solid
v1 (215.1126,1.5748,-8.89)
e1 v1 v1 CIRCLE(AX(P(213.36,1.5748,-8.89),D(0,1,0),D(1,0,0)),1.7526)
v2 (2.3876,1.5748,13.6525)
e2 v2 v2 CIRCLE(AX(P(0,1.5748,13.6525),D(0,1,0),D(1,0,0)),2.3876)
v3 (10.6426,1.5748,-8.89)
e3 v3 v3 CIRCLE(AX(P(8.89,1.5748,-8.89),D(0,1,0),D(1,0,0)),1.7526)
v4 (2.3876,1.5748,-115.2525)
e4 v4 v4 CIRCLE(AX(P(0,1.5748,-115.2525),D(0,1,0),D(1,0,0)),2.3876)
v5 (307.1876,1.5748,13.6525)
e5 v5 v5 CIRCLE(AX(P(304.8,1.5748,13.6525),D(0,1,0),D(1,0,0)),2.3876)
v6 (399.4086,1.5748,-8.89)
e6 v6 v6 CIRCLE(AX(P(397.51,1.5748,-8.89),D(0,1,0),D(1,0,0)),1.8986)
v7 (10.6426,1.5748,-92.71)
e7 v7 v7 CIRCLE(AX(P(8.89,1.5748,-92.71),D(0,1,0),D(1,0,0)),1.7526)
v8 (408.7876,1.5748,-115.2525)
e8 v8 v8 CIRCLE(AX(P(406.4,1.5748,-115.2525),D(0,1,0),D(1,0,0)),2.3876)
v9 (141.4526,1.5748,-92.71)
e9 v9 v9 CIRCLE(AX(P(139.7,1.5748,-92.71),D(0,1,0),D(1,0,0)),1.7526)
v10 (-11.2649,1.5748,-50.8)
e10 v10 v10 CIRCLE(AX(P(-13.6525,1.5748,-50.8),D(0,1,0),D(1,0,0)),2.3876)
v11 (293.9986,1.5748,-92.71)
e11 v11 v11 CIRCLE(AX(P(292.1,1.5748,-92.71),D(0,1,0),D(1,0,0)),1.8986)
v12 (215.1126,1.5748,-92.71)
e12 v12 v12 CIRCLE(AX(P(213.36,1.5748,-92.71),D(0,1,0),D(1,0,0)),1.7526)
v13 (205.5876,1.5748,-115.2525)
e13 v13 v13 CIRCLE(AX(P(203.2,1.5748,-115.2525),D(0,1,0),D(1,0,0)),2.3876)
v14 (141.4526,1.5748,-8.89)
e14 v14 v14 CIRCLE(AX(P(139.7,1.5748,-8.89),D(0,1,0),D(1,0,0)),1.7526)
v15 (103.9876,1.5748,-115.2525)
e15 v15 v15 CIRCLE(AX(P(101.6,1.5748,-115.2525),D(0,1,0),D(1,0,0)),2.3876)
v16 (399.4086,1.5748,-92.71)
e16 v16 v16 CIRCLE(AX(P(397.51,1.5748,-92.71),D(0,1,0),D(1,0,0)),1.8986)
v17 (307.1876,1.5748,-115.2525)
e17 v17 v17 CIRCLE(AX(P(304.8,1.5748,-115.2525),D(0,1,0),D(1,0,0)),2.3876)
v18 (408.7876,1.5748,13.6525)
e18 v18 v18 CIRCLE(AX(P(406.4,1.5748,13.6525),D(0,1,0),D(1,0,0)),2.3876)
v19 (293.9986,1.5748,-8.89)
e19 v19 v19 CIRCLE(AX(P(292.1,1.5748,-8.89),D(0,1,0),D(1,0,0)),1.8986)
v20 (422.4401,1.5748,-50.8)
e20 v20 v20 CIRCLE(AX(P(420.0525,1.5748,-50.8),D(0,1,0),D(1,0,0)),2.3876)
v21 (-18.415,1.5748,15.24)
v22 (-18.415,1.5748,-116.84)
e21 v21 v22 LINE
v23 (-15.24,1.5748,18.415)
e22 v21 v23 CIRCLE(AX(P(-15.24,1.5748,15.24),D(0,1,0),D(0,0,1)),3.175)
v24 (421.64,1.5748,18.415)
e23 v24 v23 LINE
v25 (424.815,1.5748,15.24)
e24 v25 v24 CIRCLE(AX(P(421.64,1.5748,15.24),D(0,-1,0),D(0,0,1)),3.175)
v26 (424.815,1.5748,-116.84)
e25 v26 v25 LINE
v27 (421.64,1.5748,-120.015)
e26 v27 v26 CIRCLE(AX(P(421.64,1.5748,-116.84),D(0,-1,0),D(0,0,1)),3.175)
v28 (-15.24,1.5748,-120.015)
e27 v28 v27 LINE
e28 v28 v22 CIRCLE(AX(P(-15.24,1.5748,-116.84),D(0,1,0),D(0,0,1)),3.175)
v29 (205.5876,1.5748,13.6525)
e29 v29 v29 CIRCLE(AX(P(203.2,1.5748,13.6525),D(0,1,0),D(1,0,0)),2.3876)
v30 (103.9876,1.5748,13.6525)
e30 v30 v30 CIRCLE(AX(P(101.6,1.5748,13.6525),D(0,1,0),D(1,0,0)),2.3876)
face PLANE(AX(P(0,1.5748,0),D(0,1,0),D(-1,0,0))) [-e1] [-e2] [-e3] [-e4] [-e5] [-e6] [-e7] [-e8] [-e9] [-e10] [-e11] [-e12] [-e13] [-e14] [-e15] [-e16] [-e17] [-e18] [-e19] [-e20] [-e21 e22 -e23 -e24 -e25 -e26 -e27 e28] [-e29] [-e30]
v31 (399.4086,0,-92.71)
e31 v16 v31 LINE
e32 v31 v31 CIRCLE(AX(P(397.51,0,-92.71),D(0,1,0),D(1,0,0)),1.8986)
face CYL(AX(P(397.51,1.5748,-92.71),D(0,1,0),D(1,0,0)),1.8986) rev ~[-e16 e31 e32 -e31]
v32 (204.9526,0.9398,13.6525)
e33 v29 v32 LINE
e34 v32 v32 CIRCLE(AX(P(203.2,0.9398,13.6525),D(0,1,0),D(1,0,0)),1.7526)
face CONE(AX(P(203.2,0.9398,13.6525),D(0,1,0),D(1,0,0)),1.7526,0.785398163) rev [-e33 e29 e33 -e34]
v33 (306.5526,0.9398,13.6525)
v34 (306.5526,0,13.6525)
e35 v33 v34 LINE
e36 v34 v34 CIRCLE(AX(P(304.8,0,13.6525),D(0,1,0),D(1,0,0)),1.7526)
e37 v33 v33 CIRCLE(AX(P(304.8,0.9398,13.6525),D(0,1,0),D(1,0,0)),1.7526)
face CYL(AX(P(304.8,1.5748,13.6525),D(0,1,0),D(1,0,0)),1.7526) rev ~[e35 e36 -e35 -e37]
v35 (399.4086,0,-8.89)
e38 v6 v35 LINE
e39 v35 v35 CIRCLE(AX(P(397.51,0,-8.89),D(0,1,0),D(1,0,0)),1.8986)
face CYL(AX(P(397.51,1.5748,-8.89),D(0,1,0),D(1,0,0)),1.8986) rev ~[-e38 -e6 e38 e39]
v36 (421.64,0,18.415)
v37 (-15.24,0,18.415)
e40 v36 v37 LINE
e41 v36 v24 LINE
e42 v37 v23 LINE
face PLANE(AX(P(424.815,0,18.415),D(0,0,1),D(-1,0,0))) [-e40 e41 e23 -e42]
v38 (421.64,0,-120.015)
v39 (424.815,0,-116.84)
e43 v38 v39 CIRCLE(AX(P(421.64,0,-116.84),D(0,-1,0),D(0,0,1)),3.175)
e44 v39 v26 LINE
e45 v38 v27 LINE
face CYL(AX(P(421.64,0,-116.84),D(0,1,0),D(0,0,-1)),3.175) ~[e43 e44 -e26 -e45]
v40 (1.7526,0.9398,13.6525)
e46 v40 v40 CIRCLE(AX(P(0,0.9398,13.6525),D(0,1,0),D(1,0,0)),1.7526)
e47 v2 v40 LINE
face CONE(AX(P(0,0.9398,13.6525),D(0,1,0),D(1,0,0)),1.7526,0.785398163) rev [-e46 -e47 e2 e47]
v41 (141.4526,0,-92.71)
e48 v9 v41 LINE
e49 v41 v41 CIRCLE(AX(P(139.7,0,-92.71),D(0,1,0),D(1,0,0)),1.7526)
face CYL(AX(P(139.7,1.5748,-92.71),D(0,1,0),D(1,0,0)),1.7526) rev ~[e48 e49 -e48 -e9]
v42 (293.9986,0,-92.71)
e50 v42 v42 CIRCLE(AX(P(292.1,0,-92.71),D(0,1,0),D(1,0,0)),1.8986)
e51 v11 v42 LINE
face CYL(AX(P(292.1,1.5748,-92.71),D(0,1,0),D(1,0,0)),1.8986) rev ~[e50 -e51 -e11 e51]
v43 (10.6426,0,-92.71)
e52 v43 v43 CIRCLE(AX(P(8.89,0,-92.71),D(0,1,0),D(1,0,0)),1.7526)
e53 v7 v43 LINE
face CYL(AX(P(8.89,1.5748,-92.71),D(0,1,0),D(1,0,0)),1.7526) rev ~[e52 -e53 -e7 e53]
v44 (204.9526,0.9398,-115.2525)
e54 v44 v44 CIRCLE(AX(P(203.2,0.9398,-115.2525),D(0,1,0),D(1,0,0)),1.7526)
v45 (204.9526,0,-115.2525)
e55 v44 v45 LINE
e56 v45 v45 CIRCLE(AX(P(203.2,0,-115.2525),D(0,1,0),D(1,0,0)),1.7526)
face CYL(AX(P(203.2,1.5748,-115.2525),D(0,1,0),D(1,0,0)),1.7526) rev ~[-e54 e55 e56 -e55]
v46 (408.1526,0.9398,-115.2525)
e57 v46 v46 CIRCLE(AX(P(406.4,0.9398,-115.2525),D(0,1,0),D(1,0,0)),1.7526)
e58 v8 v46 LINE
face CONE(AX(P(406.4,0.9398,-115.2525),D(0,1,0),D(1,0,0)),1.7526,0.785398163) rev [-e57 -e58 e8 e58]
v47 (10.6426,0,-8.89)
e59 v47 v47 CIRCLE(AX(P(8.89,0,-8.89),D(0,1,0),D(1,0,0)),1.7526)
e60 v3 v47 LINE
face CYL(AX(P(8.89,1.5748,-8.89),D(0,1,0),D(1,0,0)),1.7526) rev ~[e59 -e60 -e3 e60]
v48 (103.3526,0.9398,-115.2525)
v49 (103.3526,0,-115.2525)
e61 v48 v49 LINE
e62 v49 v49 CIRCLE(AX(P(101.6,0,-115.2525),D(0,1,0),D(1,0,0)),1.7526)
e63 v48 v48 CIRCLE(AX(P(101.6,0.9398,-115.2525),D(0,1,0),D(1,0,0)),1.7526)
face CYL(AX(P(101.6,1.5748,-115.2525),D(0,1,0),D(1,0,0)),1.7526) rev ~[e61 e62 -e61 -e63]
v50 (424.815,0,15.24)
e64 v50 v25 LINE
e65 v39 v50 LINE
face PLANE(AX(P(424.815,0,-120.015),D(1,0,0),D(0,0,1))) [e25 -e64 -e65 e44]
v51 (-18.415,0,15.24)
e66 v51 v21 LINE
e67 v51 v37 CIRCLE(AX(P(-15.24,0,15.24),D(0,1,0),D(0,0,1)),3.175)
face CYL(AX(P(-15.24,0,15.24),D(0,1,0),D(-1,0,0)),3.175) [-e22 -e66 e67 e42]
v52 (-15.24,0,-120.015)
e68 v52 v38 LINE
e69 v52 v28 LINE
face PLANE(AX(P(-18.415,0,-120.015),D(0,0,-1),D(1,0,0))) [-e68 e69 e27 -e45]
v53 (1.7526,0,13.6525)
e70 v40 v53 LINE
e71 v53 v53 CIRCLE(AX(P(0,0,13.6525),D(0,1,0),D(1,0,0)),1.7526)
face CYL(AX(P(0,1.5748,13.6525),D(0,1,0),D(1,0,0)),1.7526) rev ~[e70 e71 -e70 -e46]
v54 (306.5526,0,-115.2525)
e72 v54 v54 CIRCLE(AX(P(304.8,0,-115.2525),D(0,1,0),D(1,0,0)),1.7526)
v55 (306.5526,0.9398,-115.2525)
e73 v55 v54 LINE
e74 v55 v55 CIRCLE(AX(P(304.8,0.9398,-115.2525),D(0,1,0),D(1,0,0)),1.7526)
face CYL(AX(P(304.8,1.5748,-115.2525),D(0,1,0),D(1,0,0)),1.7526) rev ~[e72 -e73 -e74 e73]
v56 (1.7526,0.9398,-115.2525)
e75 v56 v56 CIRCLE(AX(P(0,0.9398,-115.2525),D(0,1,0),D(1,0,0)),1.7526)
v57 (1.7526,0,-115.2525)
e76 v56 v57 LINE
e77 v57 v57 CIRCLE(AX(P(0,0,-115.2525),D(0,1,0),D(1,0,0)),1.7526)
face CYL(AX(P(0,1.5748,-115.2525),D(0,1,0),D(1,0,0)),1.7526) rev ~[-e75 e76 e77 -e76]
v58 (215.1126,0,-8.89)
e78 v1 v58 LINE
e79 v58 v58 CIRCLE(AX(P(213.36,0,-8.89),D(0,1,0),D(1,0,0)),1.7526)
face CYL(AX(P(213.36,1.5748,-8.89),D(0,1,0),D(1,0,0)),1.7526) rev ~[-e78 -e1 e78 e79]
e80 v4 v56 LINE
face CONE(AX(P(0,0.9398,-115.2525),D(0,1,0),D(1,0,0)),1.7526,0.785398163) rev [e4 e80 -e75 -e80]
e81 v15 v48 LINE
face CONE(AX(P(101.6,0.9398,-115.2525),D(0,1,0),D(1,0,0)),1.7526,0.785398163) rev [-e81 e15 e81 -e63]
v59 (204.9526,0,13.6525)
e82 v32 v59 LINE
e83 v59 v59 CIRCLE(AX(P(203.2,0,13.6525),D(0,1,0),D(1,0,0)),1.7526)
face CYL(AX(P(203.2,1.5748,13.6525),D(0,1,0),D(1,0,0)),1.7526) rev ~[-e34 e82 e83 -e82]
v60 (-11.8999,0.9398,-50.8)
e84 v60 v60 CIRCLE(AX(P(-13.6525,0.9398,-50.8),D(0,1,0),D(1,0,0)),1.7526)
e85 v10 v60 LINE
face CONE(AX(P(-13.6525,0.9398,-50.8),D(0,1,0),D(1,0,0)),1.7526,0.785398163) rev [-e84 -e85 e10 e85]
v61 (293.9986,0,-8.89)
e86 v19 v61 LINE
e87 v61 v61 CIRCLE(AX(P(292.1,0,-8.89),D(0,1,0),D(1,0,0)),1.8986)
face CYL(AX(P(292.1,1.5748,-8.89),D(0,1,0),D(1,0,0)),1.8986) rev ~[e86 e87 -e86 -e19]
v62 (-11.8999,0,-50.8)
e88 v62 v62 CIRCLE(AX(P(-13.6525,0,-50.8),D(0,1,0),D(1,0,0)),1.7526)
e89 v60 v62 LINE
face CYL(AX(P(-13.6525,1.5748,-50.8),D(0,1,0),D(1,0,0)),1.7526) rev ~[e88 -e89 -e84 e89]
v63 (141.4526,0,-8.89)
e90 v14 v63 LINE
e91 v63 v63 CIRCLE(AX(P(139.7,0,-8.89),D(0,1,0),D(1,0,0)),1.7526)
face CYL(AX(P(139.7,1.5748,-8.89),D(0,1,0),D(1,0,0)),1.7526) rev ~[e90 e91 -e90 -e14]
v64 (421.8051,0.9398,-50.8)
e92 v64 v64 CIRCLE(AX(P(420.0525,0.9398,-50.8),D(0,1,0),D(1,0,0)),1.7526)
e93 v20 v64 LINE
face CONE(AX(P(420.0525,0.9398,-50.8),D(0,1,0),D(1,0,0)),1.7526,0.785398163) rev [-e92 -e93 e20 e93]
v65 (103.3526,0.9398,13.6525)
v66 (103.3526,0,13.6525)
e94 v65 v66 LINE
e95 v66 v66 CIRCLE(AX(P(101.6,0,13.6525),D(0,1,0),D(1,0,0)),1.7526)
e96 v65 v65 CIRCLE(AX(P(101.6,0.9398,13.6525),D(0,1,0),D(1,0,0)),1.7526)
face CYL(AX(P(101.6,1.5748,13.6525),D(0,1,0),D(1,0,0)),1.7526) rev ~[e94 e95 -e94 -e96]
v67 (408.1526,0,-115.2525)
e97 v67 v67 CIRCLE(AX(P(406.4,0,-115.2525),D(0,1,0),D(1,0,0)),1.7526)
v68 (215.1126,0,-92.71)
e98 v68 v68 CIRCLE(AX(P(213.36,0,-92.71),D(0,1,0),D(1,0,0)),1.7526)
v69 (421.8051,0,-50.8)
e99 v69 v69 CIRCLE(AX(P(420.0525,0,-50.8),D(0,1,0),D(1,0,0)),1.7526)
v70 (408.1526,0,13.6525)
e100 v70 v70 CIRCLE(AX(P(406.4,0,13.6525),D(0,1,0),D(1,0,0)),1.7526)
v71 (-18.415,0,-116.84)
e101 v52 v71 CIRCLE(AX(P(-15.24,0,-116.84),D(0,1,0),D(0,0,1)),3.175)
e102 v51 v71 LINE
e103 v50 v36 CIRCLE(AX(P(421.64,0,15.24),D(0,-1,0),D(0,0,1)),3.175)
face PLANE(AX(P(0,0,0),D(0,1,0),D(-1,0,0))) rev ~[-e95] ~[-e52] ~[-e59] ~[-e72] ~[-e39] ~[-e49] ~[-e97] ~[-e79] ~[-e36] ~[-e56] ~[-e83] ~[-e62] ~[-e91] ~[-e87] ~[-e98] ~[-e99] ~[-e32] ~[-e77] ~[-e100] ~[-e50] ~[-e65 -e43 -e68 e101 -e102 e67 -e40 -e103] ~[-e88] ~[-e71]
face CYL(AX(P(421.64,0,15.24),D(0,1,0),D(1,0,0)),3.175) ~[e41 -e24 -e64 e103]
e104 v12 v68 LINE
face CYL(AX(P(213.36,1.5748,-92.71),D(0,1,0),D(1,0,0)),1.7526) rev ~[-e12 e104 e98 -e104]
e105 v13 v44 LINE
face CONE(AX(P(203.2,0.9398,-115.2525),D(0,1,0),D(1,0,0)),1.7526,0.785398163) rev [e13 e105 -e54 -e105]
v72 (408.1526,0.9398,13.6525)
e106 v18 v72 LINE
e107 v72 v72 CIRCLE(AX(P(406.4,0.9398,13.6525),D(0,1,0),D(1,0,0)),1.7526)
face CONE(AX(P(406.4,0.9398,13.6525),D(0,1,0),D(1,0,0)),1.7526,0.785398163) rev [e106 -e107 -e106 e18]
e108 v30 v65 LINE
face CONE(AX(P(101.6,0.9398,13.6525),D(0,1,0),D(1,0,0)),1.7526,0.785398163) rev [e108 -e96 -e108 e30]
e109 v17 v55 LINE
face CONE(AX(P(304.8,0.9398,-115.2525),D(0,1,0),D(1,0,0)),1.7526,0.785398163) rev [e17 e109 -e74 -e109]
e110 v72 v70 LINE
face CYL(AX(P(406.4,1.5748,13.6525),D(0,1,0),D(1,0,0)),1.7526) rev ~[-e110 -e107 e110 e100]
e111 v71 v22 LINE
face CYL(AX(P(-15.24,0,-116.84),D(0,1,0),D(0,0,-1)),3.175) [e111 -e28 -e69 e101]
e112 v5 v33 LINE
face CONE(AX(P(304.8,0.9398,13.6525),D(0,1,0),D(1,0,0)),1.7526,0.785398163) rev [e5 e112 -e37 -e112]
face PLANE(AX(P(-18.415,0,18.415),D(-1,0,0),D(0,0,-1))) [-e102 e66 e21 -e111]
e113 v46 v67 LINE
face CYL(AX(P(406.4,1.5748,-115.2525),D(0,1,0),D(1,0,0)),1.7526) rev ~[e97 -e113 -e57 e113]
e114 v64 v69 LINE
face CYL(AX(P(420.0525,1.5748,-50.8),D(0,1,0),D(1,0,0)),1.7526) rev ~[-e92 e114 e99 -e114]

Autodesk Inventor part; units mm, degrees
ref_plane "YZ Plane" through (0, 0, 0) normal (1, 0, 0) x (0, 1, 0)
ref_plane "XZ Plane" through (0, 0, 0) normal (0, 1, 0) x (-1, 0, 0)
ref_plane "XY Plane" through (0, 0, 0) normal (0, 0, 1) x (1, 0, 0)
sketch "Sketch4" plane through (0, 0, 0) normal (0, 1, 0) x (-1, 0, 0)
  line L0 (0, -101.6) -> (0, 0)
  line L1 (0, 0) -> (-406.4, 0)
  line L2 (-406.4, 0) -> (-406.4, -101.6)
  line L3 (-406.4, -101.6) -> (0, -101.6)
  circle A0 centre (-397.51, -92.71) radius 1.8986
  circle A1 centre (-292.1, -92.71) radius 1.8986
  circle A2 centre (-213.36, -92.71) radius 1.8986
  circle A3 centre (-139.7, -92.71) radius 1.8986
  circle A4 centre (-8.89, -8.89) radius 1.8986
  circle A5 centre (-381, -92.78) radius 1
  circle A6 centre (-381, -73.73) radius 1
  circle A7 centre (-381, -54.68) radius 1
  circle A8 centre (-381, -35.63) radius 1
  circle A9 centre (-381, -16.58) radius 1
  circle A10 centre (-355.6, -6.28) radius 1
  circle A11 centre (-355.6, -25.33) radius 1
  circle A12 centre (-355.6, -44.38) radius 1
  circle A13 centre (-355.6, -63.43) radius 1
  circle A14 centre (-355.6, -82.48) radius 1
  circle A15 centre (-330.2, -92.78) radius 1
  circle A16 centre (-330.2, -73.73) radius 1
  circle A17 centre (-330.2, -54.68) radius 1
  circle A18 centre (-330.2, -35.63) radius 1
  circle A19 centre (-330.2, -16.58) radius 1
  circle A20 centre (-279.4, -92.78) radius 1
  circle A21 centre (-279.4, -73.73) radius 1
  circle A22 centre (-279.4, -54.68) radius 1
  circle A23 centre (-279.4, -35.63) radius 1
  circle A24 centre (-279.4, -6.28) radius 1
  circle A25 centre (-177.8, -82.48) radius 1
  circle A26 centre (-177.8, -63.43) radius 1
  circle A27 centre (-177.8, -44.38) radius 1
  circle A28 centre (-177.8, -25.33) radius 1
  circle A29 centre (-177.8, -6.28) radius 1
  circle A30 centre (-152.4, -16.58) radius 1
  circle A31 centre (-152.4, -35.63) radius 1
  circle A32 centre (-152.4, -54.68) radius 1
  circle A33 centre (-152.4, -73.73) radius 1
  circle A34 centre (-152.4, -92.78) radius 1
  circle A35 centre (-127, -82.48) radius 1
  circle A36 centre (-127, -63.43) radius 1
  circle A37 centre (-127, -35.63) radius 1
  circle A38 centre (-127, -16.58) radius 1
  circle A39 centre (-76.2, -6.28) radius 1
  circle A40 centre (-76.2, -25.33) radius 1
  circle A41 centre (-76.2, -44.38) radius 1
  circle A42 centre (-76.2, -63.43) radius 1
  circle A43 centre (-76.2, -82.48) radius 1
  circle A44 centre (-382.6, -87.63) radius 0.85
  circle A45 centre (-382.6, -49.53) radius 0.85
  circle A46 centre (-382.6, -11.43) radius 0.85
  circle A47 centre (-357.2, -30.48) radius 0.85
  circle A48 centre (-357.2, -68.58) radius 0.85
  circle A49 centre (-331.8, -87.63) radius 0.85
  circle A50 centre (-331.8, -49.53) radius 0.85
  circle A51 centre (-331.8, -11.43) radius 0.85
  circle A52 centre (-281, -68.58) radius 0.85
  circle A53 centre (-281, -30.48) radius 0.85
  circle A54 centre (-179.4, -87.63) radius 0.85
  circle A55 centre (-179.4, -49.53) radius 0.85
  circle A56 centre (-179.4, -11.43) radius 0.85
  circle A57 centre (-154, -30.48) radius 0.85
  circle A58 centre (-154, -68.58) radius 0.85
  circle A59 centre (-128.6, -87.63) radius 0.85
  circle A60 centre (-128.6, -49.53) radius 0.85
  circle A61 centre (-128.6, -11.43) radius 0.85
  circle A62 centre (-77.8, -30.48) radius 0.85
  circle A63 centre (-77.8, -68.58) radius 0.85
  circle A64 centre (-394.145, -31.5) radius 0.6
  circle A65 centre (-394.145, -38.5) radius 0.6
  circle A66 centre (-394.145, -45.5) radius 0.6
  circle A67 centre (-394.145, -52.5) radius 0.6
  circle A68 centre (-394.145, -59.5) radius 0.6
  circle A69 centre (-394.145, -66.5) radius 0.6
  circle A70 centre (-19.25, -70) radius 0.6
  circle A71 centre (-19.25, -63) radius 0.6
  circle A72 centre (-19.25, -56) radius 0.6
  circle A73 centre (-19.25, -49) radius 0.6
  circle A74 centre (-19.25, -42) radius 0.6
  circle A75 centre (-19.25, -35) radius 0.6
  circle A76 centre (-214.63, -72.39) radius 0.4953
  circle A77 centre (-214.63, -67.31) radius 0.4953
  circle A78 centre (-214.63, -62.23) radius 0.4953
  circle A79 centre (-214.63, -57.15) radius 0.4953
  circle A80 centre (-214.63, -52.07) radius 0.4953
  circle A81 centre (-214.63, -46.99) radius 0.4953
  circle A82 centre (-214.63, -41.91) radius 0.4953
  circle A83 centre (-212.09, -39.37) radius 0.4953
  circle A84 centre (-212.09, -44.45) radius 0.4953
  circle A85 centre (-212.09, -49.53) radius 0.4953
  circle A86 centre (-212.09, -54.61) radius 0.4953
  circle A87 centre (-212.09, -59.69) radius 0.4953
  circle A88 centre (-212.09, -64.77) radius 0.4953
  circle A89 centre (-212.09, -69.85) radius 0.4953
  circle A90 centre (-212.09, -72.39) radius 0.4953
  circle A91 centre (-212.09, -67.31) radius 0.4953
  circle A92 centre (-212.09, -62.23) radius 0.4953
  circle A93 centre (-212.09, -57.15) radius 0.4953
  circle A94 centre (-212.09, -52.07) radius 0.4953
  circle A95 centre (-212.09, -46.99) radius 0.4953
  circle A96 centre (-212.09, -41.91) radius 0.4953
  circle A97 centre (-214.63, -39.37) radius 0.4953
  circle A98 centre (-214.63, -44.45) radius 0.4953
  circle A99 centre (-214.63, -49.53) radius 0.4953
  circle A100 centre (-214.63, -54.61) radius 0.4953
  circle A101 centre (-214.63, -59.69) radius 0.4953
  circle A102 centre (-214.63, -64.77) radius 0.4953
  circle A103 centre (-214.63, -69.85) radius 0.4953
  circle A104 centre (-19.25, -31.5) radius 0.6
  circle A105 centre (-19.25, -38.5) radius 0.6
  circle A106 centre (-19.25, -45.5) radius 0.6
  circle A107 centre (-19.25, -52.5) radius 0.6
  circle A108 centre (-19.25, -59.5) radius 0.6
  circle A109 centre (-19.25, -66.5) radius 0.6
  circle A110 centre (-394.145, -70) radius 0.6
  circle A111 centre (-394.145, -63) radius 0.6
  circle A112 centre (-394.145, -56) radius 0.6
  circle A113 centre (-394.145, -49) radius 0.6
  circle A114 centre (-394.145, -42) radius 0.6
  circle A115 centre (-394.145, -35) radius 0.6
  circle A116 centre (-77.8, -87.63) radius 0.85
  circle A117 centre (-77.8, -49.53) radius 0.85
  circle A118 centre (-77.8, -11.43) radius 0.85
  circle A119 centre (-128.6, -30.48) radius 0.85
  circle A120 centre (-128.6, -68.58) radius 0.85
  circle A121 centre (-154, -87.63) radius 0.85
  circle A122 centre (-154, -49.53) radius 0.85
  circle A123 centre (-154, -11.43) radius 0.85
  circle A124 centre (-179.4, -30.48) radius 0.85
  circle A125 centre (-179.4, -68.58) radius 0.85
  circle A126 centre (-281, -11.43) radius 0.85
  circle A127 centre (-281, -49.53) radius 0.85
  circle A128 centre (-281, -87.63) radius 0.85
  circle A129 centre (-331.8, -30.48) radius 0.85
  circle A130 centre (-331.8, -68.58) radius 0.85
  circle A131 centre (-357.2, -87.63) radius 0.85
  circle A132 centre (-357.2, -49.53) radius 0.85
  circle A133 centre (-357.2, -11.43) radius 0.85
  circle A134 centre (-382.6, -30.48) radius 0.85
  circle A135 centre (-382.6, -68.58) radius 0.85
  circle A136 centre (-76.2, -92.78) radius 1
  circle A137 centre (-76.2, -73.73) radius 1
  circle A138 centre (-76.2, -54.68) radius 1
  circle A139 centre (-76.2, -35.63) radius 1
  circle A140 centre (-76.2, -16.58) radius 1
  circle A141 centre (-127, -6.28) radius 1
  circle A142 centre (-127, -25.33) radius 1
  circle A143 centre (-127, -44.38) radius 1
  circle A144 centre (-127, -73.73) radius 1
  circle A145 centre (-127, -92.78) radius 1
  circle A146 centre (-152.4, -82.48) radius 1
  circle A147 centre (-152.4, -63.43) radius 1
  circle A148 centre (-152.4, -44.38) radius 1
  circle A149 centre (-152.4, -25.33) radius 1
  circle A150 centre (-152.4, -6.28) radius 1
  circle A151 centre (-177.8, -16.58) radius 1
  circle A152 centre (-177.8, -35.63) radius 1
  circle A153 centre (-177.8, -54.68) radius 1
  circle A154 centre (-177.8, -73.73) radius 1
  circle A155 centre (-177.8, -92.78) radius 1
  circle A156 centre (-279.4, -16.58) radius 1
  circle A157 centre (-279.4, -44.38) radius 1
  circle A158 centre (-279.4, -63.43) radius 1
  circle A159 centre (-279.4, -82.48) radius 1
  circle A160 centre (-330.2, -6.28) radius 1
  circle A161 centre (-330.2, -25.33) radius 1
  circle A162 centre (-330.2, -44.38) radius 1
  circle A163 centre (-330.2, -63.43) radius 1
  circle A164 centre (-330.2, -82.48) radius 1
  circle A165 centre (-355.6, -92.78) radius 1
  circle A166 centre (-355.6, -73.73) radius 1
  circle A167 centre (-355.6, -54.68) radius 1
  circle A168 centre (-355.6, -35.63) radius 1
  circle A169 centre (-355.6, -16.58) radius 1
  circle A170 centre (-381, -6.28) radius 1
  circle A171 centre (-381, -25.33) radius 1
  circle A172 centre (-381, -44.38) radius 1
  circle A173 centre (-381, -63.43) radius 1
  circle A174 centre (-381, -82.48) radius 1
  circle A175 centre (-279.4, -25.33) radius 1
  circle A176 centre (-8.89, -92.71) radius 1.8986
  circle A177 centre (-139.7, -8.89) radius 1.8986
  circle A178 centre (-213.36, -8.89) radius 1.8986
  circle A179 centre (-292.1, -8.89) radius 1.8986
  circle A180 centre (-397.51, -8.89) radius 1.8986
sketch "Sketch5" plane through (0, 0, 0) normal (0, 1, 0) x (-1, 0, 0)
  line L0 (-406.4, -101.6) -> (0, -101.6) construction
  line L1 (0, -101.6) -> (0, 0) construction
  line L2 (0, 0) -> (-406.4, 0) construction
  line L3 (-406.4, 0) -> (-406.4, -101.6) construction
  line L4 (-203.2, -101.6) -> (-203.2, 0) construction
  line L5 (0, -50.8) -> (-406.4, -50.8) construction
  line L6 (18.415, -120.015) -> (-424.815, -120.015)
  line L7 (-424.815, -120.015) -> (-424.815, 18.415)
  line L8 (-424.815, 18.415) -> (18.415, 18.415)
  line L9 (18.415, 18.415) -> (18.415, -120.015)
  line L10 (18.415, -120.015) -> (-424.815, 18.415) construction
  line L11 (-424.815, -120.015) -> (18.415, 18.415) construction
  point P0 (-203.2, -50.8)
  dimension "d22" = 443.23
  dimension "d23" = 138.43
extrude "Extrusion3" add sketch "Sketch5" along normal blind 1.5748
sketch "Sketch6" plane through (0, 1.5748, 0) normal (0, 1, 0) x (1, 0, 0)
  circle A0 centre (8.89, 92.71) radius 1.8986 construction
  circle A1 centre (8.89, 8.89) radius 1.8986 construction
  circle A2 centre (139.7, 8.89) radius 1.8986 construction
  circle A3 centre (139.7, 92.71) radius 1.8986 construction
  circle A4 centre (213.36, 92.71) radius 1.8986 construction
  circle A5 centre (213.36, 8.89) radius 1.8986 construction
  circle A6 centre (292.1, 8.89) radius 1.8986 construction
  circle A7 centre (292.1, 92.71) radius 1.8986 construction
  circle A8 centre (397.51, 92.71) radius 1.8986 construction
  circle A9 centre (397.51, 8.89) radius 1.8986 construction
  circle A10 centre (8.89, 8.89) radius 1.7526
  circle A11 centre (8.89, 92.71) radius 1.7526
  circle A12 centre (139.7, 8.89) radius 1.7526
  circle A13 centre (139.7, 92.71) radius 1.7526
  circle A14 centre (213.36, 92.71) radius 1.7526
  circle A15 centre (213.36, 8.89) radius 1.7526
  circle A16 centre (292.1, 8.89) radius 1.8986
  circle A17 centre (292.1, 92.71) radius 1.8986
  circle A18 centre (397.51, 92.71) radius 1.8986
  circle A19 centre (397.51, 8.89) radius 1.8986
  point P0 (0, 0)
  dimension "d26" = 3.5052
extrude "Extrusion4" cut sketch "Sketch6" against normal blind 1.5748
sketch "Sketch7" plane through (0, 1.5748, 0) normal (0, 1, 0) x (1, 0, 0)
  line L0 (-18.415, -18.415) -> (-18.415, 120.015) construction
  line L1 (-18.415, 50.8) -> (424.815, 50.8) construction
  line L2 (424.815, 120.015) -> (424.815, -18.415) construction
  line L3 (424.815, -18.415) -> (-18.415, -18.415) construction
  line L4 (203.2, -18.415) -> (203.2, 120.015) construction
  line L5 (-18.415, 120.015) -> (424.815, 120.015) construction
  circle A0 centre (-13.6525, 50.8) radius 1.7526
  circle A1 centre (420.0525, 50.8) radius 1.7526
  circle A2 centre (0, -13.6525) radius 1.7526
  circle A3 centre (101.6, -13.6525) radius 1.7526
  circle A4 centre (203.2, -13.6525) radius 1.7526
  circle A5 centre (304.8, -13.6525) radius 1.7526
  circle A6 centre (406.4, -13.6525) radius 1.7526
  circle A7 centre (0, 115.2525) radius 1.7526
  circle A8 centre (101.6, 115.2525) radius 1.7526
  circle A9 centre (203.2, 115.2525) radius 1.7526
  circle A10 centre (304.8, 115.2525) radius 1.7526
  circle A11 centre (406.4, 115.2525) radius 1.7526
  circle A12 centre (8.89, 8.89) radius 1.7526 projected
  point P0 (0, 0)
  dimension "d31" = 101.6
  dimension "d34" = 128.905
  dimension "d45" = 433.705
extrude "Extrusion5" cut sketch "Sketch7" against normal blind 1.5748 contours A0 | A1 | A2 | A3 | A4 | A5 | A6 | A7 | A8 | A9 | A10 | A11
chamfer "Chamfer4" distance 0.635 angle 45 12 edges at (-1.7526, 1.5748, 13.6525) (-15.4051, 1.5748, -50.8) (-1.7526, 1.5748, -115.2525) (99.8474, 1.5748, -115.2525) (99.8474, 1.5748, 13.6525) (201.4474, 1.5748, 13.6525) (201.4474, 1.5748, -115.2525) (303.0474, 1.5748, -115.2525) (404.6474, 1.5748, -115.2525) (418.2999, 1.5748, -50.8) (404.6474, 1.5748, 13.6525) (303.0474, 1.5748, 13.6525)
fillet "Fillet1" radius 3.175 4 edges at (424.815, 0.7874, 18.415) (424.815, 0.7874, -120.015) (-18.415, 0.7874, -120.015) (-18.415, 0.7874, 18.415)
properties part number "Enclosure2_RevB_Inner" material "Aluminum 6061"
